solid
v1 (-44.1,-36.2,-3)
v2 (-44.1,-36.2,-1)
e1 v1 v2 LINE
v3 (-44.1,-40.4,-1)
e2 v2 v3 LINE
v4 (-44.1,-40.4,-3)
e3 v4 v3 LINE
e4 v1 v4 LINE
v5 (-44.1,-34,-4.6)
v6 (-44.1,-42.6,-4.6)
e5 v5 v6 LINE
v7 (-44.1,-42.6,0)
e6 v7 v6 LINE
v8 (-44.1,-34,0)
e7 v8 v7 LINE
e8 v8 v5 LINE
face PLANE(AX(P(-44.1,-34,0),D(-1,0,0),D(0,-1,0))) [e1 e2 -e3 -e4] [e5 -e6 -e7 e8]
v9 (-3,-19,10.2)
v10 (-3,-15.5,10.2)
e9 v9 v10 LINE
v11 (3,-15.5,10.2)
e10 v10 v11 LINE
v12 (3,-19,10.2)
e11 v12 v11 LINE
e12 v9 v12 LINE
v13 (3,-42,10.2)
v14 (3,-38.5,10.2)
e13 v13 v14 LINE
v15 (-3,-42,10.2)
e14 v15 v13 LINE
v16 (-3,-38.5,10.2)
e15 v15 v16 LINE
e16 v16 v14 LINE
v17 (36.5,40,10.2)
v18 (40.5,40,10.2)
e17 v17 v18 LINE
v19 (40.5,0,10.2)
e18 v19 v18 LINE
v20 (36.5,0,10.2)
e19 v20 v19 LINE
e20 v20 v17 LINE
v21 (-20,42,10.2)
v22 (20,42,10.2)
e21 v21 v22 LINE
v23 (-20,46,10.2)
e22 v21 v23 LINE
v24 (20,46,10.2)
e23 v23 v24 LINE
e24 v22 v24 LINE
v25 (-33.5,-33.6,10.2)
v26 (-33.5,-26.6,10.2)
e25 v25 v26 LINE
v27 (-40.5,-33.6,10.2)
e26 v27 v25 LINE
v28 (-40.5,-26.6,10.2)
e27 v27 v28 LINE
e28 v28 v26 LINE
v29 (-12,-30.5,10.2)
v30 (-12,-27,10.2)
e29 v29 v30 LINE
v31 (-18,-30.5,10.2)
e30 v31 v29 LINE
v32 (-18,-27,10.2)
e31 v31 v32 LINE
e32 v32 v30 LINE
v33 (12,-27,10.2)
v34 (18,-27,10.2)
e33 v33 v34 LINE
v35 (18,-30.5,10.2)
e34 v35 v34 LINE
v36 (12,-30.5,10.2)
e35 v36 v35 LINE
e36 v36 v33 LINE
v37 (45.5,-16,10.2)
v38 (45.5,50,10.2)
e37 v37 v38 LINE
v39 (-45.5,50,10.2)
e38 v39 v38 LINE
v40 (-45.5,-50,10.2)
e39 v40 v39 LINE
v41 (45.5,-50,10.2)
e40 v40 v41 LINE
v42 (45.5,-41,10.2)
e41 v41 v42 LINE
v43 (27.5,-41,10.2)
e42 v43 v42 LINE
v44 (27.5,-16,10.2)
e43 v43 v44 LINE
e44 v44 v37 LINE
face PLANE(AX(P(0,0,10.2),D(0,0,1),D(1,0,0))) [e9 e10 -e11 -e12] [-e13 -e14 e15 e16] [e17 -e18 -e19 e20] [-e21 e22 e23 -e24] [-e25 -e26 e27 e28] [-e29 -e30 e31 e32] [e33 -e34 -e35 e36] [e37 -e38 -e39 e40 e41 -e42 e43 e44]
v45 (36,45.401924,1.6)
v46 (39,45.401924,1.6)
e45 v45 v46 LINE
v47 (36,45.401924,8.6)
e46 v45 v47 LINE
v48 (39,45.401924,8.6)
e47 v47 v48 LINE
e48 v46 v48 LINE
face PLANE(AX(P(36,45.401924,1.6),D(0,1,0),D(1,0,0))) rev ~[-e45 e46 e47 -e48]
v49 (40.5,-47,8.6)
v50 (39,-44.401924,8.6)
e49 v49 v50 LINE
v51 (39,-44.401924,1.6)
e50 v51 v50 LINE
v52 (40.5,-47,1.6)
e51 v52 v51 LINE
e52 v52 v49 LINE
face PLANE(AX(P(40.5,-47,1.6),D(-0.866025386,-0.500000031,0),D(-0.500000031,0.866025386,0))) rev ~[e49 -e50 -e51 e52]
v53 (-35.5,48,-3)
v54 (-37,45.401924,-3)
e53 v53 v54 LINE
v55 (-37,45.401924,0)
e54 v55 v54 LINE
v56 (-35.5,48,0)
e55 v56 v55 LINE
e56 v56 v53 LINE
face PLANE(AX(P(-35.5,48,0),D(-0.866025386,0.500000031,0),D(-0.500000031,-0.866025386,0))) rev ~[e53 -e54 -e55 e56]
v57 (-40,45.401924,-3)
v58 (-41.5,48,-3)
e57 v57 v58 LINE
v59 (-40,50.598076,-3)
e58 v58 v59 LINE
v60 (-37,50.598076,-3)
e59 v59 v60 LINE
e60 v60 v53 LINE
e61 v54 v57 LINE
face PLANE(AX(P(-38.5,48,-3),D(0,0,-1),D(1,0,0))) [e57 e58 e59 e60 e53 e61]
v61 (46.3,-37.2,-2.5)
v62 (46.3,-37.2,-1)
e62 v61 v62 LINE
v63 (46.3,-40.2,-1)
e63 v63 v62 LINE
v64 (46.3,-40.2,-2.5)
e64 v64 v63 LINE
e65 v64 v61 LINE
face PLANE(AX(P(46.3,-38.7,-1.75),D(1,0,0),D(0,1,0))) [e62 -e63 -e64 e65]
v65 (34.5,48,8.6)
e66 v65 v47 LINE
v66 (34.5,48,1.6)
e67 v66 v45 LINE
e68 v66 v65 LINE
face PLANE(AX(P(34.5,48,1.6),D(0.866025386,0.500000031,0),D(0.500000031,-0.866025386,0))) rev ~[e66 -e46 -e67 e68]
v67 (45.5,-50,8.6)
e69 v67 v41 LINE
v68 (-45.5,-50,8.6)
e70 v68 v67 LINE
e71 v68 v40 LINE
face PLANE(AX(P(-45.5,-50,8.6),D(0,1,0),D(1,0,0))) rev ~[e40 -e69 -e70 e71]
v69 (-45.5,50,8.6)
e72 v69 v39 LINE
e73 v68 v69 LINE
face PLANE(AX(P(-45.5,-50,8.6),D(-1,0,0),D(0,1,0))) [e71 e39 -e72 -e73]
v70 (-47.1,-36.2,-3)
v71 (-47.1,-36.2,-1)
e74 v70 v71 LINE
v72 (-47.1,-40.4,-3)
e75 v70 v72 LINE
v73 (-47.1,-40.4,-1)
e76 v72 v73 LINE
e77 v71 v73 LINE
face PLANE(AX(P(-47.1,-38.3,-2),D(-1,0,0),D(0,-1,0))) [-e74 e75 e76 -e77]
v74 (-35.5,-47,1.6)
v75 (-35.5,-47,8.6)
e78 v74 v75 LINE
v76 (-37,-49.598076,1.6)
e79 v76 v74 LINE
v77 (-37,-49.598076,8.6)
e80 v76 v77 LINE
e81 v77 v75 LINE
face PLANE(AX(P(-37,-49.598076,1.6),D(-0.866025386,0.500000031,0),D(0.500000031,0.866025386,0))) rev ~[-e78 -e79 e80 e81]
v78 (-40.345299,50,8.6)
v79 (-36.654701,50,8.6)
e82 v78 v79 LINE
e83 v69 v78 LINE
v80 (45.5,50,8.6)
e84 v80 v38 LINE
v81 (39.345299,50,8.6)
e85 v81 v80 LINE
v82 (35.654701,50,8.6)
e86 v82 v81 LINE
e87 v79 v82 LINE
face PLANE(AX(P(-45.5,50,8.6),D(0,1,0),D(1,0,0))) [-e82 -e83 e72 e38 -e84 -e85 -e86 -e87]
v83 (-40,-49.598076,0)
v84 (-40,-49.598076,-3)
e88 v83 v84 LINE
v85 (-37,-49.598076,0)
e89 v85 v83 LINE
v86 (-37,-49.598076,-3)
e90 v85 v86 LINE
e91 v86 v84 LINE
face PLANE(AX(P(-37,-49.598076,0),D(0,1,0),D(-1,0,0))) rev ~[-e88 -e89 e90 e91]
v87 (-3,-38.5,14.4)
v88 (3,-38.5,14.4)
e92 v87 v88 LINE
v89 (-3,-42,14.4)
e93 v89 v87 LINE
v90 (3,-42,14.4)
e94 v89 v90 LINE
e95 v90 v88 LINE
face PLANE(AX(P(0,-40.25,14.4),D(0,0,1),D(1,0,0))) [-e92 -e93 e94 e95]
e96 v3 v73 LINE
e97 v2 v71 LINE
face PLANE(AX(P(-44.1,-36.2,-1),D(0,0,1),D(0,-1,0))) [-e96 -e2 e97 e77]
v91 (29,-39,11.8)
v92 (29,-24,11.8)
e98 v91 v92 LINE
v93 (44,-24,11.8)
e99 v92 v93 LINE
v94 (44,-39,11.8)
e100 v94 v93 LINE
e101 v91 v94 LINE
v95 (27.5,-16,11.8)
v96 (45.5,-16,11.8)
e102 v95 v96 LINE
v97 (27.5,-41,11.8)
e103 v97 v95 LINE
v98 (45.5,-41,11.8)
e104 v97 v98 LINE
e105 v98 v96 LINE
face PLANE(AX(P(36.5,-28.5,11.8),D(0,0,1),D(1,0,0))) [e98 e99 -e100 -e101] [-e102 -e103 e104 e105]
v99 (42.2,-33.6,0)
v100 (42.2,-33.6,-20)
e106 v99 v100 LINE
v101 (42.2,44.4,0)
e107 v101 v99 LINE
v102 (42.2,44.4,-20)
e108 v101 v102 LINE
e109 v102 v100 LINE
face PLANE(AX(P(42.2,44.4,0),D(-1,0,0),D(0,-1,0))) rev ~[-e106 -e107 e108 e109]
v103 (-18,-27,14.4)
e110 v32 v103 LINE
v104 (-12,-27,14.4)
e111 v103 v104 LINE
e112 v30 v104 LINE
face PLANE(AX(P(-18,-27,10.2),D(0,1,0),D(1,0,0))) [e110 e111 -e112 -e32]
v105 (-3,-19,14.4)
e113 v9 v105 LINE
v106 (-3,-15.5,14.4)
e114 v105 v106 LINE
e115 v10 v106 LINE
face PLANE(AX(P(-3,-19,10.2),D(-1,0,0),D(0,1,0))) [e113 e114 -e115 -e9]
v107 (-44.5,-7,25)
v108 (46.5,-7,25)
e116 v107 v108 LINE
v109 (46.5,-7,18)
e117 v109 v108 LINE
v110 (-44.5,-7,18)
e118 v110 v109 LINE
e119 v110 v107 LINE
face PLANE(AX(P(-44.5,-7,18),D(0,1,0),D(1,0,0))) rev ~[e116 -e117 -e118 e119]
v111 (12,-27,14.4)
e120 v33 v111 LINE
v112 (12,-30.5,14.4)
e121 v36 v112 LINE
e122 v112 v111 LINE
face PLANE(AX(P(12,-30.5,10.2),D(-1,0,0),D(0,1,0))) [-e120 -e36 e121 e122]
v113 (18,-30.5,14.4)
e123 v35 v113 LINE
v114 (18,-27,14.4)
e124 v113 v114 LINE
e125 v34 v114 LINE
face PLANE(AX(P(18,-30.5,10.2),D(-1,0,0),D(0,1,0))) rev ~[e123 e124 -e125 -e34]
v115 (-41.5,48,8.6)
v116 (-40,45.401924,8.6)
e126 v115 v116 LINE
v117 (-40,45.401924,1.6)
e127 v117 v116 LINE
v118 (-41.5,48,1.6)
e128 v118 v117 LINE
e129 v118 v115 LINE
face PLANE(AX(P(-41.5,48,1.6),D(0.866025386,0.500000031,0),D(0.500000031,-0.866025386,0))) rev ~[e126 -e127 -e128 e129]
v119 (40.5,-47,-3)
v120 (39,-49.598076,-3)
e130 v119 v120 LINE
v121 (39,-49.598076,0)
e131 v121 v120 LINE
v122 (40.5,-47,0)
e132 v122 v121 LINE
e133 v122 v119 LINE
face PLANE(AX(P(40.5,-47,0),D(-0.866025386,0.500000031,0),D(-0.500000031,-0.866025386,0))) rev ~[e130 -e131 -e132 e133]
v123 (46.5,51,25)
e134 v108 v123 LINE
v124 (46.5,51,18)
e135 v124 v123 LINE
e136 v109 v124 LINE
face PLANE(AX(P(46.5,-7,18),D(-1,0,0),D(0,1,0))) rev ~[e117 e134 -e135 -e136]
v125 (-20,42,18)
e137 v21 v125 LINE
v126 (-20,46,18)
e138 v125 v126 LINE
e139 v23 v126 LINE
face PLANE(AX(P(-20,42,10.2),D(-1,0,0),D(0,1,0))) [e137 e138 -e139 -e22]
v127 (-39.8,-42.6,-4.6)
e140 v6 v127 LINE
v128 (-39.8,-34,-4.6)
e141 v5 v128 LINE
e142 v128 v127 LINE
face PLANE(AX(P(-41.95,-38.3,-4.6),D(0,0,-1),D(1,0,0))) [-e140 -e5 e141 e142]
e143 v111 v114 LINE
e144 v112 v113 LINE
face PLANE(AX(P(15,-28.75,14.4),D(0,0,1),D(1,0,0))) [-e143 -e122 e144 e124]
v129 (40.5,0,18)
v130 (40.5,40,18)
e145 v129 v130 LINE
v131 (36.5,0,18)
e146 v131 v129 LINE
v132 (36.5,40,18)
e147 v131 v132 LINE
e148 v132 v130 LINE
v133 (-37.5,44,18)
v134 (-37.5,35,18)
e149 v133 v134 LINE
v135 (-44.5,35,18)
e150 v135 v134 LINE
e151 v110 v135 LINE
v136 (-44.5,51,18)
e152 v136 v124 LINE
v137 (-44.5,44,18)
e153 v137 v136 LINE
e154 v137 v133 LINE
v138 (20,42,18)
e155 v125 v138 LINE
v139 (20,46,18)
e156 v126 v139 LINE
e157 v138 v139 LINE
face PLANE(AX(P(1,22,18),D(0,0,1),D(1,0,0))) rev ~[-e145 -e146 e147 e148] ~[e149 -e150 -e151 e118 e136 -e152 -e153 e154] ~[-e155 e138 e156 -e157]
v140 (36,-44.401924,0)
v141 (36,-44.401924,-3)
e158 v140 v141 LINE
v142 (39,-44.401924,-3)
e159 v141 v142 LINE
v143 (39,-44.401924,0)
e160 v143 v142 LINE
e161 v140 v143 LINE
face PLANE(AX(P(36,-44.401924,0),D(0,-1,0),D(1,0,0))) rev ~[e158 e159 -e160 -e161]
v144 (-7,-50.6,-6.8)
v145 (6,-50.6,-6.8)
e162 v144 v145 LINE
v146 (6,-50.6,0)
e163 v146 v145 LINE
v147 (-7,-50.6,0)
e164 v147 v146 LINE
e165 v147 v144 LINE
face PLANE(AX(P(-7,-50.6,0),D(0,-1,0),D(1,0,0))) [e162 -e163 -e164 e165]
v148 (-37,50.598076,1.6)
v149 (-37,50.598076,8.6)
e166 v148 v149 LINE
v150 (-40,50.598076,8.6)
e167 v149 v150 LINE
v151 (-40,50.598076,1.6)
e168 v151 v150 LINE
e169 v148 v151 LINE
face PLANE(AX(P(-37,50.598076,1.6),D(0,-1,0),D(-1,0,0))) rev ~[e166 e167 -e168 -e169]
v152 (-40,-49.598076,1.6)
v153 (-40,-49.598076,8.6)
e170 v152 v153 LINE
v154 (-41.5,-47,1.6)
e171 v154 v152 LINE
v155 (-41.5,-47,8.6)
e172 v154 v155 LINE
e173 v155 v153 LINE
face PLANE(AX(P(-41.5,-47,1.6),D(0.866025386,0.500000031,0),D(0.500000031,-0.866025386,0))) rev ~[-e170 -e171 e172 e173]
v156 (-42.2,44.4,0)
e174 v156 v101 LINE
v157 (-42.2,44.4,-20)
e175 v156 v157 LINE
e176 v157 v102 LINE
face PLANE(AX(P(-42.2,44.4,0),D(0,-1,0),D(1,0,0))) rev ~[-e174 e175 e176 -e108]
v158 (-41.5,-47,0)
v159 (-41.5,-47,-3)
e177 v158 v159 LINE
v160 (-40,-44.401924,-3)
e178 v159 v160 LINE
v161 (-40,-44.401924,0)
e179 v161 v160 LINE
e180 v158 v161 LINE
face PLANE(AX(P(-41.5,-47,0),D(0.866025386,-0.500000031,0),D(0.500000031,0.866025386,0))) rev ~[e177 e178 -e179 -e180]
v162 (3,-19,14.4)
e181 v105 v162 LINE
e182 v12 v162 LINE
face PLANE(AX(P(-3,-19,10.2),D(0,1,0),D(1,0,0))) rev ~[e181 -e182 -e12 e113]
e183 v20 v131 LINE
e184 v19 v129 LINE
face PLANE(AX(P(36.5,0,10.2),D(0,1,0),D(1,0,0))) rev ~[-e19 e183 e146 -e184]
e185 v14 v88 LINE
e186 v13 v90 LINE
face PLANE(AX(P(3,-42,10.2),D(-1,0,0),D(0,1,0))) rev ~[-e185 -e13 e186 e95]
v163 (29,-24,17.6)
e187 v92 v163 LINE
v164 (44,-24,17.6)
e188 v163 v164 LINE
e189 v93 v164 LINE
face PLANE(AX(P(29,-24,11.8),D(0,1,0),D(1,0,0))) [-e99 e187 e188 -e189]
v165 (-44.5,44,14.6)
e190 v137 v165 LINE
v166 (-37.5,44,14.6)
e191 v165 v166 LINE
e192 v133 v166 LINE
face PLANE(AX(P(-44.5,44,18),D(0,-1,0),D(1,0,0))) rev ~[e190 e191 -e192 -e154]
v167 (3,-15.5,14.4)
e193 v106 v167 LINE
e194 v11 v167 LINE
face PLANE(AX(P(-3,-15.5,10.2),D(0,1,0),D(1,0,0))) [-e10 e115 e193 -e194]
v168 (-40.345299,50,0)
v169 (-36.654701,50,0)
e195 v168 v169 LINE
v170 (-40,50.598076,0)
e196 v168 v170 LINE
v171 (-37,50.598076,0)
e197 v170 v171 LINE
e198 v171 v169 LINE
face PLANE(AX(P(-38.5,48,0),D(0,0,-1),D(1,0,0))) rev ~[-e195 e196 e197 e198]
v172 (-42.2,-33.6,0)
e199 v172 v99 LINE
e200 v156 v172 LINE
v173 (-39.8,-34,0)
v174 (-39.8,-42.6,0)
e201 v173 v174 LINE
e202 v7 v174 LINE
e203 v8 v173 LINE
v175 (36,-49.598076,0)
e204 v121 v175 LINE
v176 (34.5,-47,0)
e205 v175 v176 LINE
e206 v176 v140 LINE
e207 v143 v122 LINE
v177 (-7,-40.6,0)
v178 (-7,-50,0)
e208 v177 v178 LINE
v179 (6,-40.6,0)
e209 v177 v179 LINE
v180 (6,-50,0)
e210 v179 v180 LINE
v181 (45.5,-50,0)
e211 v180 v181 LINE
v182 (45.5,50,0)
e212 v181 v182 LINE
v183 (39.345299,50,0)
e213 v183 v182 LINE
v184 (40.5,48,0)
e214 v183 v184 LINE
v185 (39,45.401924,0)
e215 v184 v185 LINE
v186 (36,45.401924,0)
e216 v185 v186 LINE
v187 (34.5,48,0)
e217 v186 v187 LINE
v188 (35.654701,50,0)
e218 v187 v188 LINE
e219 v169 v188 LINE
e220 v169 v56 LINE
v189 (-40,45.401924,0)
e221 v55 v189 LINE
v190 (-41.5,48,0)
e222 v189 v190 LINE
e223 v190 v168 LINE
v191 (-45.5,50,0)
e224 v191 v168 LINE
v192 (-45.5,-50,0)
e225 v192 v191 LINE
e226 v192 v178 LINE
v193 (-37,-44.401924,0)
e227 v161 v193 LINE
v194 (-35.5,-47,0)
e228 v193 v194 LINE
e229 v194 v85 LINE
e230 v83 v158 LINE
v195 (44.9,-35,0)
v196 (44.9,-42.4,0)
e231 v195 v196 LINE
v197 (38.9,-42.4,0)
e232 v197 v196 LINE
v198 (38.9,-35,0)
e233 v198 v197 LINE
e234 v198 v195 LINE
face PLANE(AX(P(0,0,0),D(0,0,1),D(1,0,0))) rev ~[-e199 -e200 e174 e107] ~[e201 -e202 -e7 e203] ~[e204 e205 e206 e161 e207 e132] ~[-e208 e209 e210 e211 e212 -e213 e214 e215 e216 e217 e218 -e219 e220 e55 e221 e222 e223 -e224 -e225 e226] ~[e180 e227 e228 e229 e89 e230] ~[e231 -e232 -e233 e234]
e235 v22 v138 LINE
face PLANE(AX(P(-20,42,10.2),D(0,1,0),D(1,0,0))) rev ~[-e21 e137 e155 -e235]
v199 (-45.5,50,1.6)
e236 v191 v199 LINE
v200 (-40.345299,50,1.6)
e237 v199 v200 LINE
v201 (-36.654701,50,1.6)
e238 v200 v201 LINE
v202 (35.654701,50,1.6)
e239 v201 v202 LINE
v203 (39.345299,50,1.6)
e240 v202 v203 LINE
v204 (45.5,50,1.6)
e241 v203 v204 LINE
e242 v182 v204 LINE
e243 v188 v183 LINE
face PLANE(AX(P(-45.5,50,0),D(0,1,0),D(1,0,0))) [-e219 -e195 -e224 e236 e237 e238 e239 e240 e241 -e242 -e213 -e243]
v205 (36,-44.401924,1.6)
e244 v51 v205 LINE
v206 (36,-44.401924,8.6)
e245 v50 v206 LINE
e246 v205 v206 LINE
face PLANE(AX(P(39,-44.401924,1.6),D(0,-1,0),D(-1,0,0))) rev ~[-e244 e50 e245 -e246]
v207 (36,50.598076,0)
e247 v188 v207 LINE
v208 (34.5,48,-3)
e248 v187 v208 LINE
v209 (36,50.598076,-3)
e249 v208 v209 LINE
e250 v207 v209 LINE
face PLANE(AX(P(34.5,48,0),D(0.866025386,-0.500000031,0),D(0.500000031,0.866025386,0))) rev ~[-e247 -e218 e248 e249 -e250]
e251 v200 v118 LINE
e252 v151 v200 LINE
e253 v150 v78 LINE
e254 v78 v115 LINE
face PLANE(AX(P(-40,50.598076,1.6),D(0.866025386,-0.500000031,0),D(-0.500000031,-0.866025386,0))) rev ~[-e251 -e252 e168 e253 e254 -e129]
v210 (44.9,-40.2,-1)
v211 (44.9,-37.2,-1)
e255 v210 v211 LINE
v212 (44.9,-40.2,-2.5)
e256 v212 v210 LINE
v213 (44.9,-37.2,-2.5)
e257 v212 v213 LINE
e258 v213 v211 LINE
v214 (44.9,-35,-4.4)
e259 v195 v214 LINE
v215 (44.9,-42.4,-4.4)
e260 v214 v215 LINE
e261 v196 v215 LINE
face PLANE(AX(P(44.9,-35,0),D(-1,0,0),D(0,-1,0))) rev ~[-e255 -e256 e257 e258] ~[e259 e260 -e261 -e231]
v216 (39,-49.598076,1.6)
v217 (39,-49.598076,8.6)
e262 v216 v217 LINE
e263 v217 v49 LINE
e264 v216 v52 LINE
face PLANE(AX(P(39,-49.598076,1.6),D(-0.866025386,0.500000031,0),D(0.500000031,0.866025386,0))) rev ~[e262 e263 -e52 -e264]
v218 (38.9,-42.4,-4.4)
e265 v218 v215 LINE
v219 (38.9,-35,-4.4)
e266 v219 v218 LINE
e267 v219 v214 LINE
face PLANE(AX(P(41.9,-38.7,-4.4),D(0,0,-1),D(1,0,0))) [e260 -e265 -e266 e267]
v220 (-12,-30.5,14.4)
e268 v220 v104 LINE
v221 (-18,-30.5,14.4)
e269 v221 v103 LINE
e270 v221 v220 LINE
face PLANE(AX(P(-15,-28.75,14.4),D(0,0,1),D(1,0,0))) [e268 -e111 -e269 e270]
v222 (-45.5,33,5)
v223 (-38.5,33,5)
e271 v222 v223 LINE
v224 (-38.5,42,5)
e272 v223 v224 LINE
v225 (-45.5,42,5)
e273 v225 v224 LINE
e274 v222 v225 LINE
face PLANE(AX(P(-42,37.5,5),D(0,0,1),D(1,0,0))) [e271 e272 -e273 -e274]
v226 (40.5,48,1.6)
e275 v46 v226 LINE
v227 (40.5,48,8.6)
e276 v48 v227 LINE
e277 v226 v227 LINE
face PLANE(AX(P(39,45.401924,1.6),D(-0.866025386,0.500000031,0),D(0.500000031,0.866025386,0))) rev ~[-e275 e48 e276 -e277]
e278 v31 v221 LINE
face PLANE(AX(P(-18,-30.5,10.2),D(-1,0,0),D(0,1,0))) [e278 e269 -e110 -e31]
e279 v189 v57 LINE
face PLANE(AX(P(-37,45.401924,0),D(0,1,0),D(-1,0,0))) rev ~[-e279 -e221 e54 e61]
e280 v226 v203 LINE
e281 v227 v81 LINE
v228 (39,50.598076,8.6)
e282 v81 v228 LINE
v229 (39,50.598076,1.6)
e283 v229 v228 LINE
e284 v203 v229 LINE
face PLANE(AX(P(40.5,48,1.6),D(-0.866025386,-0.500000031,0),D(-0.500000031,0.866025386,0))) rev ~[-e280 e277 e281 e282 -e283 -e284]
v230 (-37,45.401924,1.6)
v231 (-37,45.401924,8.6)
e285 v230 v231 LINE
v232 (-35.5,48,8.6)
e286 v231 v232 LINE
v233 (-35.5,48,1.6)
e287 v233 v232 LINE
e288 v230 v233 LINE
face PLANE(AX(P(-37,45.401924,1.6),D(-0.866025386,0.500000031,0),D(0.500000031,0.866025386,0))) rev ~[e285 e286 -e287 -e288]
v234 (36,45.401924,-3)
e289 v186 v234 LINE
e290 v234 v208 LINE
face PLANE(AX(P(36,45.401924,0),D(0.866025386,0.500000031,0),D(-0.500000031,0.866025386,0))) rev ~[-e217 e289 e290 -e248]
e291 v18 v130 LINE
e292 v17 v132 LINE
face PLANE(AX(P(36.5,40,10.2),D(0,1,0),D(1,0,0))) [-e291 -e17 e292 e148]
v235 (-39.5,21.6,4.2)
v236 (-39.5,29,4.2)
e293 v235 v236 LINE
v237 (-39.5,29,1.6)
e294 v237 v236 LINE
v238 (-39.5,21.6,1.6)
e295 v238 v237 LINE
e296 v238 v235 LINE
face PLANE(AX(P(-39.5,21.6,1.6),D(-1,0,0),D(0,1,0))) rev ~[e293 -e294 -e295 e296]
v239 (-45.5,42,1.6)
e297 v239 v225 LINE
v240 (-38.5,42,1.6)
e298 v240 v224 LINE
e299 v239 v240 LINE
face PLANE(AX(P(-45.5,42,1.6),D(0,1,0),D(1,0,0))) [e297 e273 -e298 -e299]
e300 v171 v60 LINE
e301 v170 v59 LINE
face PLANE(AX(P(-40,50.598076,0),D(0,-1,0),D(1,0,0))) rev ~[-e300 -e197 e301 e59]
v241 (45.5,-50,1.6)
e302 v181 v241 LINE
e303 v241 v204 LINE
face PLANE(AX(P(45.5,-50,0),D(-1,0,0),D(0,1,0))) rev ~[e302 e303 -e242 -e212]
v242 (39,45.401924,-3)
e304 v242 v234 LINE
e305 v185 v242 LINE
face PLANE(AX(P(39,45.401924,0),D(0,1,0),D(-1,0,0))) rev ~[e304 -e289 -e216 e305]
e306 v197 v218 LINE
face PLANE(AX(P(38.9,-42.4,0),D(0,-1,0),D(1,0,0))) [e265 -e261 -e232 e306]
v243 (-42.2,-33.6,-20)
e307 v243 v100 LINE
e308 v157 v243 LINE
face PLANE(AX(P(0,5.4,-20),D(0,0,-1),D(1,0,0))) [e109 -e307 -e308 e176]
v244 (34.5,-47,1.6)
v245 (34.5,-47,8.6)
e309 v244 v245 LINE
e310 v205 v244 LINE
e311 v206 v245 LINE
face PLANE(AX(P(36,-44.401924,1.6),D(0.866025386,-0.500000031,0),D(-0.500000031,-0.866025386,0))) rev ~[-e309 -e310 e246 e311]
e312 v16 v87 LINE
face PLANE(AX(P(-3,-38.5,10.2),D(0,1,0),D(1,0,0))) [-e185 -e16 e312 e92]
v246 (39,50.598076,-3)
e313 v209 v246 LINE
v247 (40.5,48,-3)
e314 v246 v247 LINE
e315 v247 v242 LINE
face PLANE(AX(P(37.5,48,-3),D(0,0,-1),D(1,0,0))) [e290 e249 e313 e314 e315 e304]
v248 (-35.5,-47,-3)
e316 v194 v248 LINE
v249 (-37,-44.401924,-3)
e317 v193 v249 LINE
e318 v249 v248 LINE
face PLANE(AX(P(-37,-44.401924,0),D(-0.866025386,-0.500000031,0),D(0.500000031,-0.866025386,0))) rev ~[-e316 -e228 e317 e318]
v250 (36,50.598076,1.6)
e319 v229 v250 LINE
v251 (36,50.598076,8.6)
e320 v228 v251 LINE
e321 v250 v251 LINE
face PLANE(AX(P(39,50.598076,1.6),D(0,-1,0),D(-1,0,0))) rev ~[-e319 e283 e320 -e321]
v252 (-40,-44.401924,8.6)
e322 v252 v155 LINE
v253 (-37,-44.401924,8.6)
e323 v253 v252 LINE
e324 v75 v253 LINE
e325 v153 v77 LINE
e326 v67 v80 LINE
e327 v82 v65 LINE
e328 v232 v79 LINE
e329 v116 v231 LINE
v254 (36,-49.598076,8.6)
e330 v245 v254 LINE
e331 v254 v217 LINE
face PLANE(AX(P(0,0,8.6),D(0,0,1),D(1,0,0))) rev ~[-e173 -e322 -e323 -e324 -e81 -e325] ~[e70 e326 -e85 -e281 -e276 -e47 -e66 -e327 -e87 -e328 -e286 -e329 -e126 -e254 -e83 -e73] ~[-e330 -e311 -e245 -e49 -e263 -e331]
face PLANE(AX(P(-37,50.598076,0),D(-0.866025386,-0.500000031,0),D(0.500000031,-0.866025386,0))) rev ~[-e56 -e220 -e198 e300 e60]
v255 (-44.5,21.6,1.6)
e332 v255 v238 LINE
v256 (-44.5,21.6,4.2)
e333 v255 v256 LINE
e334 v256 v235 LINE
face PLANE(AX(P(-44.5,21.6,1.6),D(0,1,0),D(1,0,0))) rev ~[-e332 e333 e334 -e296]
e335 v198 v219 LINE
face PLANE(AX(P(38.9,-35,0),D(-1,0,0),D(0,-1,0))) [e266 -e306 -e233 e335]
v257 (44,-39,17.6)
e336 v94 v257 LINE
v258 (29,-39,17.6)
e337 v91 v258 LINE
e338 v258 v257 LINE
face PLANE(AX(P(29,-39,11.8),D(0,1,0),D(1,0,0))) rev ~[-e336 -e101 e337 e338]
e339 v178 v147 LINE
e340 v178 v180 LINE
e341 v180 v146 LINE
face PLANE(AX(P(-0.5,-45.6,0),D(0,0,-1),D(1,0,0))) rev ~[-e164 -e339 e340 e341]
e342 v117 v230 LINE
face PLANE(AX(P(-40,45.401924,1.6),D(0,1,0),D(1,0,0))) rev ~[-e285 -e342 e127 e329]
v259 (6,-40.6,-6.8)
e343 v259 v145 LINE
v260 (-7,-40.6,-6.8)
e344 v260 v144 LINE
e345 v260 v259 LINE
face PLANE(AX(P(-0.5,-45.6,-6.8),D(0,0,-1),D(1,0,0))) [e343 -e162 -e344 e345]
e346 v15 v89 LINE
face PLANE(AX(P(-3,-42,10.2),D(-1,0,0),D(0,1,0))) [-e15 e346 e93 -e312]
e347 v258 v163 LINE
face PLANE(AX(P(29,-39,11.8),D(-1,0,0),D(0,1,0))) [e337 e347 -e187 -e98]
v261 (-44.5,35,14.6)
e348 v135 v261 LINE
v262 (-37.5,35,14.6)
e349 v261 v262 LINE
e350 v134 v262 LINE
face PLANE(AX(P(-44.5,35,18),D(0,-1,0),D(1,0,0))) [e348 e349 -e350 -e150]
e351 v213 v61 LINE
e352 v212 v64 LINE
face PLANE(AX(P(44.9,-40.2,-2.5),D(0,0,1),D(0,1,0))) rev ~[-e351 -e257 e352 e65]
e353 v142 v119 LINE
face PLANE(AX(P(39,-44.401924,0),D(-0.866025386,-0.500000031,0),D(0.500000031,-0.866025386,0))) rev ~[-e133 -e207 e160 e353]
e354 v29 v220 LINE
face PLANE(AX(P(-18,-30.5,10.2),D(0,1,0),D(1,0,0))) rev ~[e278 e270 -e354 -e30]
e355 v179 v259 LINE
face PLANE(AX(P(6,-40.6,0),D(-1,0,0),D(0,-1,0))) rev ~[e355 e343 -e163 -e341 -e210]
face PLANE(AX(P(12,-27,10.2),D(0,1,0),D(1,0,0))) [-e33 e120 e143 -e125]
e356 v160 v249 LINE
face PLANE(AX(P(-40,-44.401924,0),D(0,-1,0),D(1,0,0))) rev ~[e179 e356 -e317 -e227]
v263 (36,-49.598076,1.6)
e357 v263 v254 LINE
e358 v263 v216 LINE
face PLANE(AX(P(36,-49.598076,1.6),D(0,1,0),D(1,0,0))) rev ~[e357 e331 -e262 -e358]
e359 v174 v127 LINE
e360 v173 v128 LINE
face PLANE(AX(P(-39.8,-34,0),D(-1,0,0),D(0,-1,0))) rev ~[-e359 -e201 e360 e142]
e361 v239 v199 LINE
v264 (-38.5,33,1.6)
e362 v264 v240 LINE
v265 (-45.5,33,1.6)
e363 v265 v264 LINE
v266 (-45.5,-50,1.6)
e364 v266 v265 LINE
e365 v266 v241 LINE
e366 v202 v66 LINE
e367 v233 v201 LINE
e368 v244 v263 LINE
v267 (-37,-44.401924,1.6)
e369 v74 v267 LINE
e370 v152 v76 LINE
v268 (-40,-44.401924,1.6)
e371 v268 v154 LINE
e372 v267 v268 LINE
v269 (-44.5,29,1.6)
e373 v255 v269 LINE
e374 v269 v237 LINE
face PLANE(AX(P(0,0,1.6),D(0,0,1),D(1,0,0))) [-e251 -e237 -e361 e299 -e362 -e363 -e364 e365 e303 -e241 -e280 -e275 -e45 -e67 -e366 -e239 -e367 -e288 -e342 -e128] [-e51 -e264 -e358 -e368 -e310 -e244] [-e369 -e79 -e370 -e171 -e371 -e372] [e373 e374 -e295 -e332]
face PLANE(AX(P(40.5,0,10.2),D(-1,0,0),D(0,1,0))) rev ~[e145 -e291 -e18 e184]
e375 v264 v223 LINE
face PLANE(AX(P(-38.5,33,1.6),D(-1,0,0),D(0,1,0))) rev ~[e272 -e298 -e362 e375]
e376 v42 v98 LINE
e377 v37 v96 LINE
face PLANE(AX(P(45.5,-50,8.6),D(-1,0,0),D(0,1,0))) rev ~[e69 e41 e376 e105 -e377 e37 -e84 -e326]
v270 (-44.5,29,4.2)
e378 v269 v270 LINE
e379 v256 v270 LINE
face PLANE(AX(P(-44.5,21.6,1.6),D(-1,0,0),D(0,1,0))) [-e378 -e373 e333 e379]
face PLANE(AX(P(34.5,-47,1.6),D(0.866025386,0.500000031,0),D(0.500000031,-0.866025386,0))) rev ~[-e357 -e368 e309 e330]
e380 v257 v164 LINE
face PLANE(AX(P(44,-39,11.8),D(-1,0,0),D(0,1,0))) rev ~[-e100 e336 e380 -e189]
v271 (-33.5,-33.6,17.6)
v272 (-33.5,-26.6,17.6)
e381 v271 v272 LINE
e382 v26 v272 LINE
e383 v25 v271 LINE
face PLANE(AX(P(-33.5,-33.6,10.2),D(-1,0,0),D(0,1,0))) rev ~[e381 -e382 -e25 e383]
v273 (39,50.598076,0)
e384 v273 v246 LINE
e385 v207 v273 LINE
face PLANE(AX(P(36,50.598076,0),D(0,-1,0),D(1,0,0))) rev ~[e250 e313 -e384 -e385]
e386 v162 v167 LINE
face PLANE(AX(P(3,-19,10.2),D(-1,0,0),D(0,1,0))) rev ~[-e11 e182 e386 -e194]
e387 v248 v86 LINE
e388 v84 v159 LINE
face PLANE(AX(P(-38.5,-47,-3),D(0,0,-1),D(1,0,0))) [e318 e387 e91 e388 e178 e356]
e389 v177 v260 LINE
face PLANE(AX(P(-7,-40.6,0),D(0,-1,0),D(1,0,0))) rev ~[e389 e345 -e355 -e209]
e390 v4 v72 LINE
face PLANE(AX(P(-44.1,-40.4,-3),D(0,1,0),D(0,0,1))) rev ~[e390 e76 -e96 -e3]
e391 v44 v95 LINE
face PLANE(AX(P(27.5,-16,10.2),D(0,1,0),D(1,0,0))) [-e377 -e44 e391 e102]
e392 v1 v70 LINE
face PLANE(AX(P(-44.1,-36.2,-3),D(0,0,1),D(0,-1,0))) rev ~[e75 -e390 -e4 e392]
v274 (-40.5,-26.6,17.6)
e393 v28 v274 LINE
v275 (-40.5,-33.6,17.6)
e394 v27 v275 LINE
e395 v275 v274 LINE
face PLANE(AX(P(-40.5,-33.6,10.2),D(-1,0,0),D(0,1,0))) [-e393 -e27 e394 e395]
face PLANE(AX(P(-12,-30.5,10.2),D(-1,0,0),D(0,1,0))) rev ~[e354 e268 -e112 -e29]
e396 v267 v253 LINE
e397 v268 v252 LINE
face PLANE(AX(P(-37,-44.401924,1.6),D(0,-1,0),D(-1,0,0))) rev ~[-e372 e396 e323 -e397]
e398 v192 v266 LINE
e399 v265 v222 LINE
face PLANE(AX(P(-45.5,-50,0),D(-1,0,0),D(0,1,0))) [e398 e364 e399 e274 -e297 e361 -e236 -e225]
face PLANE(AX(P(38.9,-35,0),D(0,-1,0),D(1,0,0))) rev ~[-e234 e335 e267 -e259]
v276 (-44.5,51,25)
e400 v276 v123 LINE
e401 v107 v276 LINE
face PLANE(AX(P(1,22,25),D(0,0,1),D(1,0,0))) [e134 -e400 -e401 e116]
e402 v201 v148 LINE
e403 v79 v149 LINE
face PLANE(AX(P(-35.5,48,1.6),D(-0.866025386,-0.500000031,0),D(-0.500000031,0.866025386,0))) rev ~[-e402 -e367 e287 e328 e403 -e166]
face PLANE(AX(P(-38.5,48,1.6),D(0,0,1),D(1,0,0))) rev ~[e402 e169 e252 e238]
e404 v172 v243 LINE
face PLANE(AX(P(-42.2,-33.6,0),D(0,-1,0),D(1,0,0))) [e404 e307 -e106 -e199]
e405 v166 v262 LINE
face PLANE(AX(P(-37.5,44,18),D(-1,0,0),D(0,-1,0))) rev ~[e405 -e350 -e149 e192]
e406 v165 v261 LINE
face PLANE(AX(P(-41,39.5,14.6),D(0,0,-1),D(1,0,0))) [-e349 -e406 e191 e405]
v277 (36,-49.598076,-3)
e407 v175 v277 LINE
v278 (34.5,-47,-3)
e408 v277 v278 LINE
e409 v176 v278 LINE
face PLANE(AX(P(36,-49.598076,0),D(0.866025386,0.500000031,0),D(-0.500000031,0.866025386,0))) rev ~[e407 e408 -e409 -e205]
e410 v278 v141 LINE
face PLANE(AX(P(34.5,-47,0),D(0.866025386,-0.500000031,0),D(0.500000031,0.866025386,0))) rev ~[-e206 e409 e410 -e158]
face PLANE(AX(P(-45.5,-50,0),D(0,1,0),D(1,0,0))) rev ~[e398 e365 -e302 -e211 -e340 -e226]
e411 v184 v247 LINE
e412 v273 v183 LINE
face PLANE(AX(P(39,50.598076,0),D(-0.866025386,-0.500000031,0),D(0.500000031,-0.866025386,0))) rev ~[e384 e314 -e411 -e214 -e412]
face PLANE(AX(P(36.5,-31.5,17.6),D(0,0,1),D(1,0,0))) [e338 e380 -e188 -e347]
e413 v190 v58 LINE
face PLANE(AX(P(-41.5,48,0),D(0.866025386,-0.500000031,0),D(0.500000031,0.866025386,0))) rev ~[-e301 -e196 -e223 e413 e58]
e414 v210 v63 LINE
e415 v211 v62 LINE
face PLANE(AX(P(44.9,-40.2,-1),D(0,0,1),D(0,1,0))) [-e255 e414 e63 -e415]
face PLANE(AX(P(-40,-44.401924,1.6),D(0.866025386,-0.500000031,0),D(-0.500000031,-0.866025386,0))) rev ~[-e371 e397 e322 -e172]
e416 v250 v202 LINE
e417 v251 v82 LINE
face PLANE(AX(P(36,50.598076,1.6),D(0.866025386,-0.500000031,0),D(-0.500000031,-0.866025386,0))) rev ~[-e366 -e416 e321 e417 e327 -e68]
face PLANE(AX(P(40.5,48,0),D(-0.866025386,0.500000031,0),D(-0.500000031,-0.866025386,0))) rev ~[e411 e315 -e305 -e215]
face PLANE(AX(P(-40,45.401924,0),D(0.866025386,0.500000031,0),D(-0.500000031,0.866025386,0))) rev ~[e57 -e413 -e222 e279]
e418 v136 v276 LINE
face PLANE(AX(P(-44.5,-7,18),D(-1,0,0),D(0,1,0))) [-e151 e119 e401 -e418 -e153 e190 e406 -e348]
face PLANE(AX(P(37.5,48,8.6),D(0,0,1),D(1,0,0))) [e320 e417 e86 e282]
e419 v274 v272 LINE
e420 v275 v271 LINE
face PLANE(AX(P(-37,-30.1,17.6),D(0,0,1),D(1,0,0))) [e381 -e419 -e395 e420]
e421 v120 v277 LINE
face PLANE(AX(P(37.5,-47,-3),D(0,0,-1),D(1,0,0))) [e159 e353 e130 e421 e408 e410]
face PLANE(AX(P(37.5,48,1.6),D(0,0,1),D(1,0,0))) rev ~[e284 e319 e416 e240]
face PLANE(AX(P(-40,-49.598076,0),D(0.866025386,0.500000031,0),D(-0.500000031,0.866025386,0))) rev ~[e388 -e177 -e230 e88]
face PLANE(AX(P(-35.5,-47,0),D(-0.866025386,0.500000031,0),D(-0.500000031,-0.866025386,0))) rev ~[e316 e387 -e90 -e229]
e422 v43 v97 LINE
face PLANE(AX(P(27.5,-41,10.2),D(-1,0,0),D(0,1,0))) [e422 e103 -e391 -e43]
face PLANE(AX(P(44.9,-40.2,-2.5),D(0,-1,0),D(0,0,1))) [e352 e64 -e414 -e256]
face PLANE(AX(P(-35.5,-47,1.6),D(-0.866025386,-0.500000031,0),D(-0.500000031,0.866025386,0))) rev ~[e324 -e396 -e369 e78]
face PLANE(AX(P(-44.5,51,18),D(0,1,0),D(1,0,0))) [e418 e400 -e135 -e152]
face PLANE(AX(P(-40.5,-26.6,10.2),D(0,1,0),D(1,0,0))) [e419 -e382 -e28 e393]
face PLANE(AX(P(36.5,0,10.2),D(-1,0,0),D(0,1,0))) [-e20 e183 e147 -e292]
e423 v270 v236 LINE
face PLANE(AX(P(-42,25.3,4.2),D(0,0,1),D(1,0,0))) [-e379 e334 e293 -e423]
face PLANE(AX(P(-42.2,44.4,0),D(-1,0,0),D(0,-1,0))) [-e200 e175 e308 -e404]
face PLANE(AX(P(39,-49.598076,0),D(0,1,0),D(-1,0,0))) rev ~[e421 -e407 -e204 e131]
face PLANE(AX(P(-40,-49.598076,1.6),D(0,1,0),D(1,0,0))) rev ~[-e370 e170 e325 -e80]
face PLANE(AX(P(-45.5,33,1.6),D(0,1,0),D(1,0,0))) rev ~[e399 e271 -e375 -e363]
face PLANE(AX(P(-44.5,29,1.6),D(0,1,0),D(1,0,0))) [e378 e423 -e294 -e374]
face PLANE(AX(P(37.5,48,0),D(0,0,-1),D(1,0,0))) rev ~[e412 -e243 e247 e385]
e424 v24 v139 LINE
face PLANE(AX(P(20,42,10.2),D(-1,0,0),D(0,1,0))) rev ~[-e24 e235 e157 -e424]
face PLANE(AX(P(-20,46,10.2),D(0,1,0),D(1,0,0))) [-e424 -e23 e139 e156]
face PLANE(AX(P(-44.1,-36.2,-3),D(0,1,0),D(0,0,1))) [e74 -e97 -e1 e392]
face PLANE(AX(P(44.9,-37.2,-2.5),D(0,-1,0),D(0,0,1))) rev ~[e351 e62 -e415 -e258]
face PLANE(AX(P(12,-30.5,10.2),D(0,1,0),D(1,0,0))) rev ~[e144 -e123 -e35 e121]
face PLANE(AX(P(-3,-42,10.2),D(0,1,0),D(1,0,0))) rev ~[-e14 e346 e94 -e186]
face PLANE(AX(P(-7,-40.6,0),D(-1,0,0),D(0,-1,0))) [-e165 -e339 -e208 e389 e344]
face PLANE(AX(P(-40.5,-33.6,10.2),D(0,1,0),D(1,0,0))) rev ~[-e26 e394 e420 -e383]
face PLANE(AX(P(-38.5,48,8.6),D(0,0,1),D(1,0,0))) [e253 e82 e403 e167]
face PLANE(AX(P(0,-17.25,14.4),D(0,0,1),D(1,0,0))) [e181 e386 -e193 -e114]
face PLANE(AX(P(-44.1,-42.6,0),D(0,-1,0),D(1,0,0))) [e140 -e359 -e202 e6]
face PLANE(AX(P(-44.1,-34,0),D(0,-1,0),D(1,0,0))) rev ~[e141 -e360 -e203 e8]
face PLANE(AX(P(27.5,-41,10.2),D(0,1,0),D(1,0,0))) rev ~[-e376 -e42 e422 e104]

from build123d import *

# Parameters (mm, degrees)
SKETCH001_W   = 91
SKETCH001_H   = 100
PAD_DEPTH     = 1.6
SKETCH002_W   = 84.4
SKETCH002_H   = 78
PAD001_DEPTH  = 20
SKETCH003_W   = 13
SKETCH003_H   = 10
PAD002_DEPTH  = 6.8
SKETCH004_W   = 4.3
SKETCH004_H   = 8.6
PAD003_DEPTH  = 4.6
SKETCH005_W   = 6
SKETCH005_H   = 7.4
PAD004_DEPTH  = 4.4
SKETCH006_W   = 4.2
SKETCH006_H   = 2
PAD005_DEPTH  = 3
SKETCH007_W   = 3
SKETCH007_H   = 1.5
PAD006_DEPTH  = 1.4
PAD007_DEPTH  = 7
SKETCH009_W   = 7
SKETCH009_H   = 9
PAD008_DEPTH  = 3.4
SKETCH010_W   = 5
SKETCH010_H   = 7.4
PAD009_DEPTH  = 2.6
SKETCH011_W   = 91
SKETCH011_H   = 100
PAD010_DEPTH  = 1.6
SKETCH012_W   = 40
SKETCH012_H   = 4
SKETCH012_W_2 = 4
SKETCH012_H_2 = 40
PAD011_DEPTH  = 7.8
SKETCH013_W   = 91
SKETCH013_H   = 58
PAD012_DEPTH  = 7
SKETCH014_W   = 7
SKETCH014_H   = 9
PAD013_DEPTH  = 3.4
PAD014_DEPTH  = 3
SKETCH035_W   = 6
SKETCH035_H   = 3.5
PAD021_DEPTH  = 4.2
SKETCH036_W   = 7
SKETCH036_H   = 7
PAD022_DEPTH  = 7.4
SKETCH037_W   = 18
SKETCH037_H   = 25
PAD023_DEPTH  = 1.6
SKETCH038_W   = 15
SKETCH038_H   = 15
PAD024_DEPTH  = 5.8


with BuildPart() as part:
    # Sketch001 → Pad (new body)
    with BuildSketch(Plane.XY):
        Rectangle(SKETCH001_W, SKETCH001_H)
    extrude(amount=PAD_DEPTH)

    # Sketch002 (on Face5 of Pad) → Pad001 (join)
    with BuildSketch(Plane(origin=(0, 0, 0), x_dir=(1, 0, 0), z_dir=(0, 0, -1))):
        with Locations((0, -5.4)):
            Rectangle(SKETCH002_W, SKETCH002_H)
    extrude(amount=PAD001_DEPTH)

    # Sketch003 (on Face4 of Pad001) → Pad002 (join)
    with BuildSketch(Plane(origin=(0, 0, 0), x_dir=(1, 0, 0), z_dir=(0, 0, -1))):
        with Locations((-0.5, 45.6)):
            Rectangle(SKETCH003_W, SKETCH003_H)
    extrude(amount=PAD002_DEPTH)

    # Sketch004 (on Face4 of Pad002) → Pad003 (join)
    with BuildSketch(Plane(origin=(0, 0, 0), x_dir=(1, 0, 0), z_dir=(0, 0, -1))):
        with Locations((-41.95, 38.3)):
            Rectangle(SKETCH004_W, SKETCH004_H)
    extrude(amount=PAD003_DEPTH)

    # Sketch005 (on Face4 of Pad003) → Pad004 (join)
    with BuildSketch(Plane(origin=(0, 0, 0), x_dir=(1, 0, 0), z_dir=(0, 0, -1))):
        with Locations((41.9, 38.7)):
            Rectangle(SKETCH005_W, SKETCH005_H)
    extrude(amount=PAD004_DEPTH)

    # Sketch006 (on Face14 of Pad004) → Pad005 (join)
    with BuildSketch(Plane(origin=(-44.1, 0, 0), x_dir=(0, -1, 0), z_dir=(-1, 0, 0))):
        with Locations((38.3, -2)):
            Rectangle(SKETCH006_W, SKETCH006_H)
    extrude(amount=PAD005_DEPTH)

    # Sketch007 (on Face12 of Pad005) → Pad006 (join)
    with BuildSketch(Plane.YZ.offset(44.9)):
        with Locations((-38.7, -1.75)):
            Rectangle(SKETCH007_W, SKETCH007_H)
    extrude(amount=PAD006_DEPTH)

    # Sketch008 (on Face5 of Pad006) → Pad007 (join)
    with BuildSketch(Plane.XY.offset(1.6)):
        Polygon((-40, 45.401924), (-37, 45.401924), (-35.5, 48), (-37, 50.598076), (-40, 50.598076), (-41.5, 48), align=None)
        Polygon((39, 45.401924), (40.5, 48), (39, 50.598076), (36, 50.598076), (34.5, 48), (36, 45.401924), align=None)
        Polygon((-37, -49.598076), (-35.5, -47), (-37, -44.401924), (-40, -44.401924), (-41.5, -47), (-40, -49.598076), align=None)
        Polygon((39, -49.598076), (40.5, -47), (39, -44.401924), (36, -44.401924), (34.5, -47), (36, -49.598076), align=None)
    extrude(amount=PAD007_DEPTH)

    # Sketch009 (on Face5 of Pad007) → Pad008 (join)
    with BuildSketch(Plane.XY.offset(1.6)):
        with Locations((-42, 37.5)):
            Rectangle(SKETCH009_W, SKETCH009_H)
    extrude(amount=PAD008_DEPTH)

    # Sketch010 (on Face5 of Pad008) → Pad009 (join)
    with BuildSketch(Plane.XY.offset(1.6)):
        with Locations((-42, 25.3)):
            Rectangle(SKETCH010_W, SKETCH010_H)
    extrude(amount=PAD009_DEPTH)

    # Sketch011 (on Face74 of Pad009) → Pad010 (join)
    with BuildSketch(Plane.XY.offset(8.6)):
        Rectangle(SKETCH011_W, SKETCH011_H)
    extrude(amount=PAD010_DEPTH)

    # Sketch012 (on Face81 of Pad010) → Pad011 (join)
    with BuildSketch(Plane.XY.offset(10.2)):
        with Locations((0, 44)):
            Rectangle(SKETCH012_W, SKETCH012_H)
        with Locations((38.5, 20)):
            Rectangle(SKETCH012_W_2, SKETCH012_H_2)
    extrude(amount=PAD011_DEPTH)

    # Sketch013 (on Face91 of Pad011) → Pad012 (join)
    with BuildSketch(Plane.XY.offset(18)):
        with Locations((1, 22)):
            Rectangle(SKETCH013_W, SKETCH013_H)
    extrude(amount=PAD012_DEPTH)

    # Sketch014 (on Face4 of Pad012) → Pad013 (join)
    with BuildSketch(Plane(origin=(0, 0, 18), x_dir=(1, 0, 0), z_dir=(0, 0, -1))):
        with Locations((-41, -39.5)):
            Rectangle(SKETCH014_W, SKETCH014_H)
    extrude(amount=PAD013_DEPTH)

    # Sketch015 (on Face66 of Pad013) → Pad014 (join)
    with BuildSketch(Plane(origin=(0, 0, 0), x_dir=(1, 0, 0), z_dir=(0, 0, -1))):
        Polygon((-35.5, 47), (-37, 49.598076), (-40, 49.598076), (-41.5, 47), (-40, 44.401924), (-37, 44.401924), align=None)
        Polygon((39, 44.401924), (40.5, 47), (39, 49.598076), (36, 49.598076), (34.5, 47), (36, 44.401924), align=None)
        Polygon((-37, -50.598076), (-35.5, -48), (-37, -45.401924), (-40, -45.401924), (-41.5, -48), (-40, -50.598076), align=None)
        Polygon((39, -50.598076), (40.5, -48), (39, -45.401924), (36, -45.401924), (34.5, -48), (36, -50.598076), align=None)
    extrude(amount=PAD014_DEPTH)

    # Sketch035 (on Face20 of Pad014) → Pad021 (join)
    with BuildSketch(Plane.XY.offset(10.2)):
        with Locations((-15, -28.75)):
            Rectangle(SKETCH035_W, SKETCH035_H)
        with Locations((0, -17.25)):
            Rectangle(SKETCH035_W, SKETCH035_H)
        with Locations((15, -28.75)):
            Rectangle(SKETCH035_W, SKETCH035_H)
        with Locations((0, -40.25)):
            Rectangle(SKETCH035_W, SKETCH035_H)
    extrude(amount=PAD021_DEPTH)

    # Sketch036 (on Face20 of Pad021) → Pad022 (join)
    with BuildSketch(Plane.XY.offset(10.2)):
        with Locations((-37, -30.1)):
            Rectangle(SKETCH036_W, SKETCH036_H)
    extrude(amount=PAD022_DEPTH)

    # Sketch037 (on Face20 of Pad022) → Pad023 (join)
    with BuildSketch(Plane.XY.offset(10.2)):
        with Locations((36.5, -28.5)):
            Rectangle(SKETCH037_W, SKETCH037_H)
    extrude(amount=PAD023_DEPTH)

    # Sketch038 (on Face50 of Pad023) → Pad024 (join)
    with BuildSketch(Plane.XY.offset(11.8)):
        with Locations((36.5, -31.5)):
            Rectangle(SKETCH038_W, SKETCH038_H)
    extrude(amount=PAD024_DEPTH)


solid = part.part
